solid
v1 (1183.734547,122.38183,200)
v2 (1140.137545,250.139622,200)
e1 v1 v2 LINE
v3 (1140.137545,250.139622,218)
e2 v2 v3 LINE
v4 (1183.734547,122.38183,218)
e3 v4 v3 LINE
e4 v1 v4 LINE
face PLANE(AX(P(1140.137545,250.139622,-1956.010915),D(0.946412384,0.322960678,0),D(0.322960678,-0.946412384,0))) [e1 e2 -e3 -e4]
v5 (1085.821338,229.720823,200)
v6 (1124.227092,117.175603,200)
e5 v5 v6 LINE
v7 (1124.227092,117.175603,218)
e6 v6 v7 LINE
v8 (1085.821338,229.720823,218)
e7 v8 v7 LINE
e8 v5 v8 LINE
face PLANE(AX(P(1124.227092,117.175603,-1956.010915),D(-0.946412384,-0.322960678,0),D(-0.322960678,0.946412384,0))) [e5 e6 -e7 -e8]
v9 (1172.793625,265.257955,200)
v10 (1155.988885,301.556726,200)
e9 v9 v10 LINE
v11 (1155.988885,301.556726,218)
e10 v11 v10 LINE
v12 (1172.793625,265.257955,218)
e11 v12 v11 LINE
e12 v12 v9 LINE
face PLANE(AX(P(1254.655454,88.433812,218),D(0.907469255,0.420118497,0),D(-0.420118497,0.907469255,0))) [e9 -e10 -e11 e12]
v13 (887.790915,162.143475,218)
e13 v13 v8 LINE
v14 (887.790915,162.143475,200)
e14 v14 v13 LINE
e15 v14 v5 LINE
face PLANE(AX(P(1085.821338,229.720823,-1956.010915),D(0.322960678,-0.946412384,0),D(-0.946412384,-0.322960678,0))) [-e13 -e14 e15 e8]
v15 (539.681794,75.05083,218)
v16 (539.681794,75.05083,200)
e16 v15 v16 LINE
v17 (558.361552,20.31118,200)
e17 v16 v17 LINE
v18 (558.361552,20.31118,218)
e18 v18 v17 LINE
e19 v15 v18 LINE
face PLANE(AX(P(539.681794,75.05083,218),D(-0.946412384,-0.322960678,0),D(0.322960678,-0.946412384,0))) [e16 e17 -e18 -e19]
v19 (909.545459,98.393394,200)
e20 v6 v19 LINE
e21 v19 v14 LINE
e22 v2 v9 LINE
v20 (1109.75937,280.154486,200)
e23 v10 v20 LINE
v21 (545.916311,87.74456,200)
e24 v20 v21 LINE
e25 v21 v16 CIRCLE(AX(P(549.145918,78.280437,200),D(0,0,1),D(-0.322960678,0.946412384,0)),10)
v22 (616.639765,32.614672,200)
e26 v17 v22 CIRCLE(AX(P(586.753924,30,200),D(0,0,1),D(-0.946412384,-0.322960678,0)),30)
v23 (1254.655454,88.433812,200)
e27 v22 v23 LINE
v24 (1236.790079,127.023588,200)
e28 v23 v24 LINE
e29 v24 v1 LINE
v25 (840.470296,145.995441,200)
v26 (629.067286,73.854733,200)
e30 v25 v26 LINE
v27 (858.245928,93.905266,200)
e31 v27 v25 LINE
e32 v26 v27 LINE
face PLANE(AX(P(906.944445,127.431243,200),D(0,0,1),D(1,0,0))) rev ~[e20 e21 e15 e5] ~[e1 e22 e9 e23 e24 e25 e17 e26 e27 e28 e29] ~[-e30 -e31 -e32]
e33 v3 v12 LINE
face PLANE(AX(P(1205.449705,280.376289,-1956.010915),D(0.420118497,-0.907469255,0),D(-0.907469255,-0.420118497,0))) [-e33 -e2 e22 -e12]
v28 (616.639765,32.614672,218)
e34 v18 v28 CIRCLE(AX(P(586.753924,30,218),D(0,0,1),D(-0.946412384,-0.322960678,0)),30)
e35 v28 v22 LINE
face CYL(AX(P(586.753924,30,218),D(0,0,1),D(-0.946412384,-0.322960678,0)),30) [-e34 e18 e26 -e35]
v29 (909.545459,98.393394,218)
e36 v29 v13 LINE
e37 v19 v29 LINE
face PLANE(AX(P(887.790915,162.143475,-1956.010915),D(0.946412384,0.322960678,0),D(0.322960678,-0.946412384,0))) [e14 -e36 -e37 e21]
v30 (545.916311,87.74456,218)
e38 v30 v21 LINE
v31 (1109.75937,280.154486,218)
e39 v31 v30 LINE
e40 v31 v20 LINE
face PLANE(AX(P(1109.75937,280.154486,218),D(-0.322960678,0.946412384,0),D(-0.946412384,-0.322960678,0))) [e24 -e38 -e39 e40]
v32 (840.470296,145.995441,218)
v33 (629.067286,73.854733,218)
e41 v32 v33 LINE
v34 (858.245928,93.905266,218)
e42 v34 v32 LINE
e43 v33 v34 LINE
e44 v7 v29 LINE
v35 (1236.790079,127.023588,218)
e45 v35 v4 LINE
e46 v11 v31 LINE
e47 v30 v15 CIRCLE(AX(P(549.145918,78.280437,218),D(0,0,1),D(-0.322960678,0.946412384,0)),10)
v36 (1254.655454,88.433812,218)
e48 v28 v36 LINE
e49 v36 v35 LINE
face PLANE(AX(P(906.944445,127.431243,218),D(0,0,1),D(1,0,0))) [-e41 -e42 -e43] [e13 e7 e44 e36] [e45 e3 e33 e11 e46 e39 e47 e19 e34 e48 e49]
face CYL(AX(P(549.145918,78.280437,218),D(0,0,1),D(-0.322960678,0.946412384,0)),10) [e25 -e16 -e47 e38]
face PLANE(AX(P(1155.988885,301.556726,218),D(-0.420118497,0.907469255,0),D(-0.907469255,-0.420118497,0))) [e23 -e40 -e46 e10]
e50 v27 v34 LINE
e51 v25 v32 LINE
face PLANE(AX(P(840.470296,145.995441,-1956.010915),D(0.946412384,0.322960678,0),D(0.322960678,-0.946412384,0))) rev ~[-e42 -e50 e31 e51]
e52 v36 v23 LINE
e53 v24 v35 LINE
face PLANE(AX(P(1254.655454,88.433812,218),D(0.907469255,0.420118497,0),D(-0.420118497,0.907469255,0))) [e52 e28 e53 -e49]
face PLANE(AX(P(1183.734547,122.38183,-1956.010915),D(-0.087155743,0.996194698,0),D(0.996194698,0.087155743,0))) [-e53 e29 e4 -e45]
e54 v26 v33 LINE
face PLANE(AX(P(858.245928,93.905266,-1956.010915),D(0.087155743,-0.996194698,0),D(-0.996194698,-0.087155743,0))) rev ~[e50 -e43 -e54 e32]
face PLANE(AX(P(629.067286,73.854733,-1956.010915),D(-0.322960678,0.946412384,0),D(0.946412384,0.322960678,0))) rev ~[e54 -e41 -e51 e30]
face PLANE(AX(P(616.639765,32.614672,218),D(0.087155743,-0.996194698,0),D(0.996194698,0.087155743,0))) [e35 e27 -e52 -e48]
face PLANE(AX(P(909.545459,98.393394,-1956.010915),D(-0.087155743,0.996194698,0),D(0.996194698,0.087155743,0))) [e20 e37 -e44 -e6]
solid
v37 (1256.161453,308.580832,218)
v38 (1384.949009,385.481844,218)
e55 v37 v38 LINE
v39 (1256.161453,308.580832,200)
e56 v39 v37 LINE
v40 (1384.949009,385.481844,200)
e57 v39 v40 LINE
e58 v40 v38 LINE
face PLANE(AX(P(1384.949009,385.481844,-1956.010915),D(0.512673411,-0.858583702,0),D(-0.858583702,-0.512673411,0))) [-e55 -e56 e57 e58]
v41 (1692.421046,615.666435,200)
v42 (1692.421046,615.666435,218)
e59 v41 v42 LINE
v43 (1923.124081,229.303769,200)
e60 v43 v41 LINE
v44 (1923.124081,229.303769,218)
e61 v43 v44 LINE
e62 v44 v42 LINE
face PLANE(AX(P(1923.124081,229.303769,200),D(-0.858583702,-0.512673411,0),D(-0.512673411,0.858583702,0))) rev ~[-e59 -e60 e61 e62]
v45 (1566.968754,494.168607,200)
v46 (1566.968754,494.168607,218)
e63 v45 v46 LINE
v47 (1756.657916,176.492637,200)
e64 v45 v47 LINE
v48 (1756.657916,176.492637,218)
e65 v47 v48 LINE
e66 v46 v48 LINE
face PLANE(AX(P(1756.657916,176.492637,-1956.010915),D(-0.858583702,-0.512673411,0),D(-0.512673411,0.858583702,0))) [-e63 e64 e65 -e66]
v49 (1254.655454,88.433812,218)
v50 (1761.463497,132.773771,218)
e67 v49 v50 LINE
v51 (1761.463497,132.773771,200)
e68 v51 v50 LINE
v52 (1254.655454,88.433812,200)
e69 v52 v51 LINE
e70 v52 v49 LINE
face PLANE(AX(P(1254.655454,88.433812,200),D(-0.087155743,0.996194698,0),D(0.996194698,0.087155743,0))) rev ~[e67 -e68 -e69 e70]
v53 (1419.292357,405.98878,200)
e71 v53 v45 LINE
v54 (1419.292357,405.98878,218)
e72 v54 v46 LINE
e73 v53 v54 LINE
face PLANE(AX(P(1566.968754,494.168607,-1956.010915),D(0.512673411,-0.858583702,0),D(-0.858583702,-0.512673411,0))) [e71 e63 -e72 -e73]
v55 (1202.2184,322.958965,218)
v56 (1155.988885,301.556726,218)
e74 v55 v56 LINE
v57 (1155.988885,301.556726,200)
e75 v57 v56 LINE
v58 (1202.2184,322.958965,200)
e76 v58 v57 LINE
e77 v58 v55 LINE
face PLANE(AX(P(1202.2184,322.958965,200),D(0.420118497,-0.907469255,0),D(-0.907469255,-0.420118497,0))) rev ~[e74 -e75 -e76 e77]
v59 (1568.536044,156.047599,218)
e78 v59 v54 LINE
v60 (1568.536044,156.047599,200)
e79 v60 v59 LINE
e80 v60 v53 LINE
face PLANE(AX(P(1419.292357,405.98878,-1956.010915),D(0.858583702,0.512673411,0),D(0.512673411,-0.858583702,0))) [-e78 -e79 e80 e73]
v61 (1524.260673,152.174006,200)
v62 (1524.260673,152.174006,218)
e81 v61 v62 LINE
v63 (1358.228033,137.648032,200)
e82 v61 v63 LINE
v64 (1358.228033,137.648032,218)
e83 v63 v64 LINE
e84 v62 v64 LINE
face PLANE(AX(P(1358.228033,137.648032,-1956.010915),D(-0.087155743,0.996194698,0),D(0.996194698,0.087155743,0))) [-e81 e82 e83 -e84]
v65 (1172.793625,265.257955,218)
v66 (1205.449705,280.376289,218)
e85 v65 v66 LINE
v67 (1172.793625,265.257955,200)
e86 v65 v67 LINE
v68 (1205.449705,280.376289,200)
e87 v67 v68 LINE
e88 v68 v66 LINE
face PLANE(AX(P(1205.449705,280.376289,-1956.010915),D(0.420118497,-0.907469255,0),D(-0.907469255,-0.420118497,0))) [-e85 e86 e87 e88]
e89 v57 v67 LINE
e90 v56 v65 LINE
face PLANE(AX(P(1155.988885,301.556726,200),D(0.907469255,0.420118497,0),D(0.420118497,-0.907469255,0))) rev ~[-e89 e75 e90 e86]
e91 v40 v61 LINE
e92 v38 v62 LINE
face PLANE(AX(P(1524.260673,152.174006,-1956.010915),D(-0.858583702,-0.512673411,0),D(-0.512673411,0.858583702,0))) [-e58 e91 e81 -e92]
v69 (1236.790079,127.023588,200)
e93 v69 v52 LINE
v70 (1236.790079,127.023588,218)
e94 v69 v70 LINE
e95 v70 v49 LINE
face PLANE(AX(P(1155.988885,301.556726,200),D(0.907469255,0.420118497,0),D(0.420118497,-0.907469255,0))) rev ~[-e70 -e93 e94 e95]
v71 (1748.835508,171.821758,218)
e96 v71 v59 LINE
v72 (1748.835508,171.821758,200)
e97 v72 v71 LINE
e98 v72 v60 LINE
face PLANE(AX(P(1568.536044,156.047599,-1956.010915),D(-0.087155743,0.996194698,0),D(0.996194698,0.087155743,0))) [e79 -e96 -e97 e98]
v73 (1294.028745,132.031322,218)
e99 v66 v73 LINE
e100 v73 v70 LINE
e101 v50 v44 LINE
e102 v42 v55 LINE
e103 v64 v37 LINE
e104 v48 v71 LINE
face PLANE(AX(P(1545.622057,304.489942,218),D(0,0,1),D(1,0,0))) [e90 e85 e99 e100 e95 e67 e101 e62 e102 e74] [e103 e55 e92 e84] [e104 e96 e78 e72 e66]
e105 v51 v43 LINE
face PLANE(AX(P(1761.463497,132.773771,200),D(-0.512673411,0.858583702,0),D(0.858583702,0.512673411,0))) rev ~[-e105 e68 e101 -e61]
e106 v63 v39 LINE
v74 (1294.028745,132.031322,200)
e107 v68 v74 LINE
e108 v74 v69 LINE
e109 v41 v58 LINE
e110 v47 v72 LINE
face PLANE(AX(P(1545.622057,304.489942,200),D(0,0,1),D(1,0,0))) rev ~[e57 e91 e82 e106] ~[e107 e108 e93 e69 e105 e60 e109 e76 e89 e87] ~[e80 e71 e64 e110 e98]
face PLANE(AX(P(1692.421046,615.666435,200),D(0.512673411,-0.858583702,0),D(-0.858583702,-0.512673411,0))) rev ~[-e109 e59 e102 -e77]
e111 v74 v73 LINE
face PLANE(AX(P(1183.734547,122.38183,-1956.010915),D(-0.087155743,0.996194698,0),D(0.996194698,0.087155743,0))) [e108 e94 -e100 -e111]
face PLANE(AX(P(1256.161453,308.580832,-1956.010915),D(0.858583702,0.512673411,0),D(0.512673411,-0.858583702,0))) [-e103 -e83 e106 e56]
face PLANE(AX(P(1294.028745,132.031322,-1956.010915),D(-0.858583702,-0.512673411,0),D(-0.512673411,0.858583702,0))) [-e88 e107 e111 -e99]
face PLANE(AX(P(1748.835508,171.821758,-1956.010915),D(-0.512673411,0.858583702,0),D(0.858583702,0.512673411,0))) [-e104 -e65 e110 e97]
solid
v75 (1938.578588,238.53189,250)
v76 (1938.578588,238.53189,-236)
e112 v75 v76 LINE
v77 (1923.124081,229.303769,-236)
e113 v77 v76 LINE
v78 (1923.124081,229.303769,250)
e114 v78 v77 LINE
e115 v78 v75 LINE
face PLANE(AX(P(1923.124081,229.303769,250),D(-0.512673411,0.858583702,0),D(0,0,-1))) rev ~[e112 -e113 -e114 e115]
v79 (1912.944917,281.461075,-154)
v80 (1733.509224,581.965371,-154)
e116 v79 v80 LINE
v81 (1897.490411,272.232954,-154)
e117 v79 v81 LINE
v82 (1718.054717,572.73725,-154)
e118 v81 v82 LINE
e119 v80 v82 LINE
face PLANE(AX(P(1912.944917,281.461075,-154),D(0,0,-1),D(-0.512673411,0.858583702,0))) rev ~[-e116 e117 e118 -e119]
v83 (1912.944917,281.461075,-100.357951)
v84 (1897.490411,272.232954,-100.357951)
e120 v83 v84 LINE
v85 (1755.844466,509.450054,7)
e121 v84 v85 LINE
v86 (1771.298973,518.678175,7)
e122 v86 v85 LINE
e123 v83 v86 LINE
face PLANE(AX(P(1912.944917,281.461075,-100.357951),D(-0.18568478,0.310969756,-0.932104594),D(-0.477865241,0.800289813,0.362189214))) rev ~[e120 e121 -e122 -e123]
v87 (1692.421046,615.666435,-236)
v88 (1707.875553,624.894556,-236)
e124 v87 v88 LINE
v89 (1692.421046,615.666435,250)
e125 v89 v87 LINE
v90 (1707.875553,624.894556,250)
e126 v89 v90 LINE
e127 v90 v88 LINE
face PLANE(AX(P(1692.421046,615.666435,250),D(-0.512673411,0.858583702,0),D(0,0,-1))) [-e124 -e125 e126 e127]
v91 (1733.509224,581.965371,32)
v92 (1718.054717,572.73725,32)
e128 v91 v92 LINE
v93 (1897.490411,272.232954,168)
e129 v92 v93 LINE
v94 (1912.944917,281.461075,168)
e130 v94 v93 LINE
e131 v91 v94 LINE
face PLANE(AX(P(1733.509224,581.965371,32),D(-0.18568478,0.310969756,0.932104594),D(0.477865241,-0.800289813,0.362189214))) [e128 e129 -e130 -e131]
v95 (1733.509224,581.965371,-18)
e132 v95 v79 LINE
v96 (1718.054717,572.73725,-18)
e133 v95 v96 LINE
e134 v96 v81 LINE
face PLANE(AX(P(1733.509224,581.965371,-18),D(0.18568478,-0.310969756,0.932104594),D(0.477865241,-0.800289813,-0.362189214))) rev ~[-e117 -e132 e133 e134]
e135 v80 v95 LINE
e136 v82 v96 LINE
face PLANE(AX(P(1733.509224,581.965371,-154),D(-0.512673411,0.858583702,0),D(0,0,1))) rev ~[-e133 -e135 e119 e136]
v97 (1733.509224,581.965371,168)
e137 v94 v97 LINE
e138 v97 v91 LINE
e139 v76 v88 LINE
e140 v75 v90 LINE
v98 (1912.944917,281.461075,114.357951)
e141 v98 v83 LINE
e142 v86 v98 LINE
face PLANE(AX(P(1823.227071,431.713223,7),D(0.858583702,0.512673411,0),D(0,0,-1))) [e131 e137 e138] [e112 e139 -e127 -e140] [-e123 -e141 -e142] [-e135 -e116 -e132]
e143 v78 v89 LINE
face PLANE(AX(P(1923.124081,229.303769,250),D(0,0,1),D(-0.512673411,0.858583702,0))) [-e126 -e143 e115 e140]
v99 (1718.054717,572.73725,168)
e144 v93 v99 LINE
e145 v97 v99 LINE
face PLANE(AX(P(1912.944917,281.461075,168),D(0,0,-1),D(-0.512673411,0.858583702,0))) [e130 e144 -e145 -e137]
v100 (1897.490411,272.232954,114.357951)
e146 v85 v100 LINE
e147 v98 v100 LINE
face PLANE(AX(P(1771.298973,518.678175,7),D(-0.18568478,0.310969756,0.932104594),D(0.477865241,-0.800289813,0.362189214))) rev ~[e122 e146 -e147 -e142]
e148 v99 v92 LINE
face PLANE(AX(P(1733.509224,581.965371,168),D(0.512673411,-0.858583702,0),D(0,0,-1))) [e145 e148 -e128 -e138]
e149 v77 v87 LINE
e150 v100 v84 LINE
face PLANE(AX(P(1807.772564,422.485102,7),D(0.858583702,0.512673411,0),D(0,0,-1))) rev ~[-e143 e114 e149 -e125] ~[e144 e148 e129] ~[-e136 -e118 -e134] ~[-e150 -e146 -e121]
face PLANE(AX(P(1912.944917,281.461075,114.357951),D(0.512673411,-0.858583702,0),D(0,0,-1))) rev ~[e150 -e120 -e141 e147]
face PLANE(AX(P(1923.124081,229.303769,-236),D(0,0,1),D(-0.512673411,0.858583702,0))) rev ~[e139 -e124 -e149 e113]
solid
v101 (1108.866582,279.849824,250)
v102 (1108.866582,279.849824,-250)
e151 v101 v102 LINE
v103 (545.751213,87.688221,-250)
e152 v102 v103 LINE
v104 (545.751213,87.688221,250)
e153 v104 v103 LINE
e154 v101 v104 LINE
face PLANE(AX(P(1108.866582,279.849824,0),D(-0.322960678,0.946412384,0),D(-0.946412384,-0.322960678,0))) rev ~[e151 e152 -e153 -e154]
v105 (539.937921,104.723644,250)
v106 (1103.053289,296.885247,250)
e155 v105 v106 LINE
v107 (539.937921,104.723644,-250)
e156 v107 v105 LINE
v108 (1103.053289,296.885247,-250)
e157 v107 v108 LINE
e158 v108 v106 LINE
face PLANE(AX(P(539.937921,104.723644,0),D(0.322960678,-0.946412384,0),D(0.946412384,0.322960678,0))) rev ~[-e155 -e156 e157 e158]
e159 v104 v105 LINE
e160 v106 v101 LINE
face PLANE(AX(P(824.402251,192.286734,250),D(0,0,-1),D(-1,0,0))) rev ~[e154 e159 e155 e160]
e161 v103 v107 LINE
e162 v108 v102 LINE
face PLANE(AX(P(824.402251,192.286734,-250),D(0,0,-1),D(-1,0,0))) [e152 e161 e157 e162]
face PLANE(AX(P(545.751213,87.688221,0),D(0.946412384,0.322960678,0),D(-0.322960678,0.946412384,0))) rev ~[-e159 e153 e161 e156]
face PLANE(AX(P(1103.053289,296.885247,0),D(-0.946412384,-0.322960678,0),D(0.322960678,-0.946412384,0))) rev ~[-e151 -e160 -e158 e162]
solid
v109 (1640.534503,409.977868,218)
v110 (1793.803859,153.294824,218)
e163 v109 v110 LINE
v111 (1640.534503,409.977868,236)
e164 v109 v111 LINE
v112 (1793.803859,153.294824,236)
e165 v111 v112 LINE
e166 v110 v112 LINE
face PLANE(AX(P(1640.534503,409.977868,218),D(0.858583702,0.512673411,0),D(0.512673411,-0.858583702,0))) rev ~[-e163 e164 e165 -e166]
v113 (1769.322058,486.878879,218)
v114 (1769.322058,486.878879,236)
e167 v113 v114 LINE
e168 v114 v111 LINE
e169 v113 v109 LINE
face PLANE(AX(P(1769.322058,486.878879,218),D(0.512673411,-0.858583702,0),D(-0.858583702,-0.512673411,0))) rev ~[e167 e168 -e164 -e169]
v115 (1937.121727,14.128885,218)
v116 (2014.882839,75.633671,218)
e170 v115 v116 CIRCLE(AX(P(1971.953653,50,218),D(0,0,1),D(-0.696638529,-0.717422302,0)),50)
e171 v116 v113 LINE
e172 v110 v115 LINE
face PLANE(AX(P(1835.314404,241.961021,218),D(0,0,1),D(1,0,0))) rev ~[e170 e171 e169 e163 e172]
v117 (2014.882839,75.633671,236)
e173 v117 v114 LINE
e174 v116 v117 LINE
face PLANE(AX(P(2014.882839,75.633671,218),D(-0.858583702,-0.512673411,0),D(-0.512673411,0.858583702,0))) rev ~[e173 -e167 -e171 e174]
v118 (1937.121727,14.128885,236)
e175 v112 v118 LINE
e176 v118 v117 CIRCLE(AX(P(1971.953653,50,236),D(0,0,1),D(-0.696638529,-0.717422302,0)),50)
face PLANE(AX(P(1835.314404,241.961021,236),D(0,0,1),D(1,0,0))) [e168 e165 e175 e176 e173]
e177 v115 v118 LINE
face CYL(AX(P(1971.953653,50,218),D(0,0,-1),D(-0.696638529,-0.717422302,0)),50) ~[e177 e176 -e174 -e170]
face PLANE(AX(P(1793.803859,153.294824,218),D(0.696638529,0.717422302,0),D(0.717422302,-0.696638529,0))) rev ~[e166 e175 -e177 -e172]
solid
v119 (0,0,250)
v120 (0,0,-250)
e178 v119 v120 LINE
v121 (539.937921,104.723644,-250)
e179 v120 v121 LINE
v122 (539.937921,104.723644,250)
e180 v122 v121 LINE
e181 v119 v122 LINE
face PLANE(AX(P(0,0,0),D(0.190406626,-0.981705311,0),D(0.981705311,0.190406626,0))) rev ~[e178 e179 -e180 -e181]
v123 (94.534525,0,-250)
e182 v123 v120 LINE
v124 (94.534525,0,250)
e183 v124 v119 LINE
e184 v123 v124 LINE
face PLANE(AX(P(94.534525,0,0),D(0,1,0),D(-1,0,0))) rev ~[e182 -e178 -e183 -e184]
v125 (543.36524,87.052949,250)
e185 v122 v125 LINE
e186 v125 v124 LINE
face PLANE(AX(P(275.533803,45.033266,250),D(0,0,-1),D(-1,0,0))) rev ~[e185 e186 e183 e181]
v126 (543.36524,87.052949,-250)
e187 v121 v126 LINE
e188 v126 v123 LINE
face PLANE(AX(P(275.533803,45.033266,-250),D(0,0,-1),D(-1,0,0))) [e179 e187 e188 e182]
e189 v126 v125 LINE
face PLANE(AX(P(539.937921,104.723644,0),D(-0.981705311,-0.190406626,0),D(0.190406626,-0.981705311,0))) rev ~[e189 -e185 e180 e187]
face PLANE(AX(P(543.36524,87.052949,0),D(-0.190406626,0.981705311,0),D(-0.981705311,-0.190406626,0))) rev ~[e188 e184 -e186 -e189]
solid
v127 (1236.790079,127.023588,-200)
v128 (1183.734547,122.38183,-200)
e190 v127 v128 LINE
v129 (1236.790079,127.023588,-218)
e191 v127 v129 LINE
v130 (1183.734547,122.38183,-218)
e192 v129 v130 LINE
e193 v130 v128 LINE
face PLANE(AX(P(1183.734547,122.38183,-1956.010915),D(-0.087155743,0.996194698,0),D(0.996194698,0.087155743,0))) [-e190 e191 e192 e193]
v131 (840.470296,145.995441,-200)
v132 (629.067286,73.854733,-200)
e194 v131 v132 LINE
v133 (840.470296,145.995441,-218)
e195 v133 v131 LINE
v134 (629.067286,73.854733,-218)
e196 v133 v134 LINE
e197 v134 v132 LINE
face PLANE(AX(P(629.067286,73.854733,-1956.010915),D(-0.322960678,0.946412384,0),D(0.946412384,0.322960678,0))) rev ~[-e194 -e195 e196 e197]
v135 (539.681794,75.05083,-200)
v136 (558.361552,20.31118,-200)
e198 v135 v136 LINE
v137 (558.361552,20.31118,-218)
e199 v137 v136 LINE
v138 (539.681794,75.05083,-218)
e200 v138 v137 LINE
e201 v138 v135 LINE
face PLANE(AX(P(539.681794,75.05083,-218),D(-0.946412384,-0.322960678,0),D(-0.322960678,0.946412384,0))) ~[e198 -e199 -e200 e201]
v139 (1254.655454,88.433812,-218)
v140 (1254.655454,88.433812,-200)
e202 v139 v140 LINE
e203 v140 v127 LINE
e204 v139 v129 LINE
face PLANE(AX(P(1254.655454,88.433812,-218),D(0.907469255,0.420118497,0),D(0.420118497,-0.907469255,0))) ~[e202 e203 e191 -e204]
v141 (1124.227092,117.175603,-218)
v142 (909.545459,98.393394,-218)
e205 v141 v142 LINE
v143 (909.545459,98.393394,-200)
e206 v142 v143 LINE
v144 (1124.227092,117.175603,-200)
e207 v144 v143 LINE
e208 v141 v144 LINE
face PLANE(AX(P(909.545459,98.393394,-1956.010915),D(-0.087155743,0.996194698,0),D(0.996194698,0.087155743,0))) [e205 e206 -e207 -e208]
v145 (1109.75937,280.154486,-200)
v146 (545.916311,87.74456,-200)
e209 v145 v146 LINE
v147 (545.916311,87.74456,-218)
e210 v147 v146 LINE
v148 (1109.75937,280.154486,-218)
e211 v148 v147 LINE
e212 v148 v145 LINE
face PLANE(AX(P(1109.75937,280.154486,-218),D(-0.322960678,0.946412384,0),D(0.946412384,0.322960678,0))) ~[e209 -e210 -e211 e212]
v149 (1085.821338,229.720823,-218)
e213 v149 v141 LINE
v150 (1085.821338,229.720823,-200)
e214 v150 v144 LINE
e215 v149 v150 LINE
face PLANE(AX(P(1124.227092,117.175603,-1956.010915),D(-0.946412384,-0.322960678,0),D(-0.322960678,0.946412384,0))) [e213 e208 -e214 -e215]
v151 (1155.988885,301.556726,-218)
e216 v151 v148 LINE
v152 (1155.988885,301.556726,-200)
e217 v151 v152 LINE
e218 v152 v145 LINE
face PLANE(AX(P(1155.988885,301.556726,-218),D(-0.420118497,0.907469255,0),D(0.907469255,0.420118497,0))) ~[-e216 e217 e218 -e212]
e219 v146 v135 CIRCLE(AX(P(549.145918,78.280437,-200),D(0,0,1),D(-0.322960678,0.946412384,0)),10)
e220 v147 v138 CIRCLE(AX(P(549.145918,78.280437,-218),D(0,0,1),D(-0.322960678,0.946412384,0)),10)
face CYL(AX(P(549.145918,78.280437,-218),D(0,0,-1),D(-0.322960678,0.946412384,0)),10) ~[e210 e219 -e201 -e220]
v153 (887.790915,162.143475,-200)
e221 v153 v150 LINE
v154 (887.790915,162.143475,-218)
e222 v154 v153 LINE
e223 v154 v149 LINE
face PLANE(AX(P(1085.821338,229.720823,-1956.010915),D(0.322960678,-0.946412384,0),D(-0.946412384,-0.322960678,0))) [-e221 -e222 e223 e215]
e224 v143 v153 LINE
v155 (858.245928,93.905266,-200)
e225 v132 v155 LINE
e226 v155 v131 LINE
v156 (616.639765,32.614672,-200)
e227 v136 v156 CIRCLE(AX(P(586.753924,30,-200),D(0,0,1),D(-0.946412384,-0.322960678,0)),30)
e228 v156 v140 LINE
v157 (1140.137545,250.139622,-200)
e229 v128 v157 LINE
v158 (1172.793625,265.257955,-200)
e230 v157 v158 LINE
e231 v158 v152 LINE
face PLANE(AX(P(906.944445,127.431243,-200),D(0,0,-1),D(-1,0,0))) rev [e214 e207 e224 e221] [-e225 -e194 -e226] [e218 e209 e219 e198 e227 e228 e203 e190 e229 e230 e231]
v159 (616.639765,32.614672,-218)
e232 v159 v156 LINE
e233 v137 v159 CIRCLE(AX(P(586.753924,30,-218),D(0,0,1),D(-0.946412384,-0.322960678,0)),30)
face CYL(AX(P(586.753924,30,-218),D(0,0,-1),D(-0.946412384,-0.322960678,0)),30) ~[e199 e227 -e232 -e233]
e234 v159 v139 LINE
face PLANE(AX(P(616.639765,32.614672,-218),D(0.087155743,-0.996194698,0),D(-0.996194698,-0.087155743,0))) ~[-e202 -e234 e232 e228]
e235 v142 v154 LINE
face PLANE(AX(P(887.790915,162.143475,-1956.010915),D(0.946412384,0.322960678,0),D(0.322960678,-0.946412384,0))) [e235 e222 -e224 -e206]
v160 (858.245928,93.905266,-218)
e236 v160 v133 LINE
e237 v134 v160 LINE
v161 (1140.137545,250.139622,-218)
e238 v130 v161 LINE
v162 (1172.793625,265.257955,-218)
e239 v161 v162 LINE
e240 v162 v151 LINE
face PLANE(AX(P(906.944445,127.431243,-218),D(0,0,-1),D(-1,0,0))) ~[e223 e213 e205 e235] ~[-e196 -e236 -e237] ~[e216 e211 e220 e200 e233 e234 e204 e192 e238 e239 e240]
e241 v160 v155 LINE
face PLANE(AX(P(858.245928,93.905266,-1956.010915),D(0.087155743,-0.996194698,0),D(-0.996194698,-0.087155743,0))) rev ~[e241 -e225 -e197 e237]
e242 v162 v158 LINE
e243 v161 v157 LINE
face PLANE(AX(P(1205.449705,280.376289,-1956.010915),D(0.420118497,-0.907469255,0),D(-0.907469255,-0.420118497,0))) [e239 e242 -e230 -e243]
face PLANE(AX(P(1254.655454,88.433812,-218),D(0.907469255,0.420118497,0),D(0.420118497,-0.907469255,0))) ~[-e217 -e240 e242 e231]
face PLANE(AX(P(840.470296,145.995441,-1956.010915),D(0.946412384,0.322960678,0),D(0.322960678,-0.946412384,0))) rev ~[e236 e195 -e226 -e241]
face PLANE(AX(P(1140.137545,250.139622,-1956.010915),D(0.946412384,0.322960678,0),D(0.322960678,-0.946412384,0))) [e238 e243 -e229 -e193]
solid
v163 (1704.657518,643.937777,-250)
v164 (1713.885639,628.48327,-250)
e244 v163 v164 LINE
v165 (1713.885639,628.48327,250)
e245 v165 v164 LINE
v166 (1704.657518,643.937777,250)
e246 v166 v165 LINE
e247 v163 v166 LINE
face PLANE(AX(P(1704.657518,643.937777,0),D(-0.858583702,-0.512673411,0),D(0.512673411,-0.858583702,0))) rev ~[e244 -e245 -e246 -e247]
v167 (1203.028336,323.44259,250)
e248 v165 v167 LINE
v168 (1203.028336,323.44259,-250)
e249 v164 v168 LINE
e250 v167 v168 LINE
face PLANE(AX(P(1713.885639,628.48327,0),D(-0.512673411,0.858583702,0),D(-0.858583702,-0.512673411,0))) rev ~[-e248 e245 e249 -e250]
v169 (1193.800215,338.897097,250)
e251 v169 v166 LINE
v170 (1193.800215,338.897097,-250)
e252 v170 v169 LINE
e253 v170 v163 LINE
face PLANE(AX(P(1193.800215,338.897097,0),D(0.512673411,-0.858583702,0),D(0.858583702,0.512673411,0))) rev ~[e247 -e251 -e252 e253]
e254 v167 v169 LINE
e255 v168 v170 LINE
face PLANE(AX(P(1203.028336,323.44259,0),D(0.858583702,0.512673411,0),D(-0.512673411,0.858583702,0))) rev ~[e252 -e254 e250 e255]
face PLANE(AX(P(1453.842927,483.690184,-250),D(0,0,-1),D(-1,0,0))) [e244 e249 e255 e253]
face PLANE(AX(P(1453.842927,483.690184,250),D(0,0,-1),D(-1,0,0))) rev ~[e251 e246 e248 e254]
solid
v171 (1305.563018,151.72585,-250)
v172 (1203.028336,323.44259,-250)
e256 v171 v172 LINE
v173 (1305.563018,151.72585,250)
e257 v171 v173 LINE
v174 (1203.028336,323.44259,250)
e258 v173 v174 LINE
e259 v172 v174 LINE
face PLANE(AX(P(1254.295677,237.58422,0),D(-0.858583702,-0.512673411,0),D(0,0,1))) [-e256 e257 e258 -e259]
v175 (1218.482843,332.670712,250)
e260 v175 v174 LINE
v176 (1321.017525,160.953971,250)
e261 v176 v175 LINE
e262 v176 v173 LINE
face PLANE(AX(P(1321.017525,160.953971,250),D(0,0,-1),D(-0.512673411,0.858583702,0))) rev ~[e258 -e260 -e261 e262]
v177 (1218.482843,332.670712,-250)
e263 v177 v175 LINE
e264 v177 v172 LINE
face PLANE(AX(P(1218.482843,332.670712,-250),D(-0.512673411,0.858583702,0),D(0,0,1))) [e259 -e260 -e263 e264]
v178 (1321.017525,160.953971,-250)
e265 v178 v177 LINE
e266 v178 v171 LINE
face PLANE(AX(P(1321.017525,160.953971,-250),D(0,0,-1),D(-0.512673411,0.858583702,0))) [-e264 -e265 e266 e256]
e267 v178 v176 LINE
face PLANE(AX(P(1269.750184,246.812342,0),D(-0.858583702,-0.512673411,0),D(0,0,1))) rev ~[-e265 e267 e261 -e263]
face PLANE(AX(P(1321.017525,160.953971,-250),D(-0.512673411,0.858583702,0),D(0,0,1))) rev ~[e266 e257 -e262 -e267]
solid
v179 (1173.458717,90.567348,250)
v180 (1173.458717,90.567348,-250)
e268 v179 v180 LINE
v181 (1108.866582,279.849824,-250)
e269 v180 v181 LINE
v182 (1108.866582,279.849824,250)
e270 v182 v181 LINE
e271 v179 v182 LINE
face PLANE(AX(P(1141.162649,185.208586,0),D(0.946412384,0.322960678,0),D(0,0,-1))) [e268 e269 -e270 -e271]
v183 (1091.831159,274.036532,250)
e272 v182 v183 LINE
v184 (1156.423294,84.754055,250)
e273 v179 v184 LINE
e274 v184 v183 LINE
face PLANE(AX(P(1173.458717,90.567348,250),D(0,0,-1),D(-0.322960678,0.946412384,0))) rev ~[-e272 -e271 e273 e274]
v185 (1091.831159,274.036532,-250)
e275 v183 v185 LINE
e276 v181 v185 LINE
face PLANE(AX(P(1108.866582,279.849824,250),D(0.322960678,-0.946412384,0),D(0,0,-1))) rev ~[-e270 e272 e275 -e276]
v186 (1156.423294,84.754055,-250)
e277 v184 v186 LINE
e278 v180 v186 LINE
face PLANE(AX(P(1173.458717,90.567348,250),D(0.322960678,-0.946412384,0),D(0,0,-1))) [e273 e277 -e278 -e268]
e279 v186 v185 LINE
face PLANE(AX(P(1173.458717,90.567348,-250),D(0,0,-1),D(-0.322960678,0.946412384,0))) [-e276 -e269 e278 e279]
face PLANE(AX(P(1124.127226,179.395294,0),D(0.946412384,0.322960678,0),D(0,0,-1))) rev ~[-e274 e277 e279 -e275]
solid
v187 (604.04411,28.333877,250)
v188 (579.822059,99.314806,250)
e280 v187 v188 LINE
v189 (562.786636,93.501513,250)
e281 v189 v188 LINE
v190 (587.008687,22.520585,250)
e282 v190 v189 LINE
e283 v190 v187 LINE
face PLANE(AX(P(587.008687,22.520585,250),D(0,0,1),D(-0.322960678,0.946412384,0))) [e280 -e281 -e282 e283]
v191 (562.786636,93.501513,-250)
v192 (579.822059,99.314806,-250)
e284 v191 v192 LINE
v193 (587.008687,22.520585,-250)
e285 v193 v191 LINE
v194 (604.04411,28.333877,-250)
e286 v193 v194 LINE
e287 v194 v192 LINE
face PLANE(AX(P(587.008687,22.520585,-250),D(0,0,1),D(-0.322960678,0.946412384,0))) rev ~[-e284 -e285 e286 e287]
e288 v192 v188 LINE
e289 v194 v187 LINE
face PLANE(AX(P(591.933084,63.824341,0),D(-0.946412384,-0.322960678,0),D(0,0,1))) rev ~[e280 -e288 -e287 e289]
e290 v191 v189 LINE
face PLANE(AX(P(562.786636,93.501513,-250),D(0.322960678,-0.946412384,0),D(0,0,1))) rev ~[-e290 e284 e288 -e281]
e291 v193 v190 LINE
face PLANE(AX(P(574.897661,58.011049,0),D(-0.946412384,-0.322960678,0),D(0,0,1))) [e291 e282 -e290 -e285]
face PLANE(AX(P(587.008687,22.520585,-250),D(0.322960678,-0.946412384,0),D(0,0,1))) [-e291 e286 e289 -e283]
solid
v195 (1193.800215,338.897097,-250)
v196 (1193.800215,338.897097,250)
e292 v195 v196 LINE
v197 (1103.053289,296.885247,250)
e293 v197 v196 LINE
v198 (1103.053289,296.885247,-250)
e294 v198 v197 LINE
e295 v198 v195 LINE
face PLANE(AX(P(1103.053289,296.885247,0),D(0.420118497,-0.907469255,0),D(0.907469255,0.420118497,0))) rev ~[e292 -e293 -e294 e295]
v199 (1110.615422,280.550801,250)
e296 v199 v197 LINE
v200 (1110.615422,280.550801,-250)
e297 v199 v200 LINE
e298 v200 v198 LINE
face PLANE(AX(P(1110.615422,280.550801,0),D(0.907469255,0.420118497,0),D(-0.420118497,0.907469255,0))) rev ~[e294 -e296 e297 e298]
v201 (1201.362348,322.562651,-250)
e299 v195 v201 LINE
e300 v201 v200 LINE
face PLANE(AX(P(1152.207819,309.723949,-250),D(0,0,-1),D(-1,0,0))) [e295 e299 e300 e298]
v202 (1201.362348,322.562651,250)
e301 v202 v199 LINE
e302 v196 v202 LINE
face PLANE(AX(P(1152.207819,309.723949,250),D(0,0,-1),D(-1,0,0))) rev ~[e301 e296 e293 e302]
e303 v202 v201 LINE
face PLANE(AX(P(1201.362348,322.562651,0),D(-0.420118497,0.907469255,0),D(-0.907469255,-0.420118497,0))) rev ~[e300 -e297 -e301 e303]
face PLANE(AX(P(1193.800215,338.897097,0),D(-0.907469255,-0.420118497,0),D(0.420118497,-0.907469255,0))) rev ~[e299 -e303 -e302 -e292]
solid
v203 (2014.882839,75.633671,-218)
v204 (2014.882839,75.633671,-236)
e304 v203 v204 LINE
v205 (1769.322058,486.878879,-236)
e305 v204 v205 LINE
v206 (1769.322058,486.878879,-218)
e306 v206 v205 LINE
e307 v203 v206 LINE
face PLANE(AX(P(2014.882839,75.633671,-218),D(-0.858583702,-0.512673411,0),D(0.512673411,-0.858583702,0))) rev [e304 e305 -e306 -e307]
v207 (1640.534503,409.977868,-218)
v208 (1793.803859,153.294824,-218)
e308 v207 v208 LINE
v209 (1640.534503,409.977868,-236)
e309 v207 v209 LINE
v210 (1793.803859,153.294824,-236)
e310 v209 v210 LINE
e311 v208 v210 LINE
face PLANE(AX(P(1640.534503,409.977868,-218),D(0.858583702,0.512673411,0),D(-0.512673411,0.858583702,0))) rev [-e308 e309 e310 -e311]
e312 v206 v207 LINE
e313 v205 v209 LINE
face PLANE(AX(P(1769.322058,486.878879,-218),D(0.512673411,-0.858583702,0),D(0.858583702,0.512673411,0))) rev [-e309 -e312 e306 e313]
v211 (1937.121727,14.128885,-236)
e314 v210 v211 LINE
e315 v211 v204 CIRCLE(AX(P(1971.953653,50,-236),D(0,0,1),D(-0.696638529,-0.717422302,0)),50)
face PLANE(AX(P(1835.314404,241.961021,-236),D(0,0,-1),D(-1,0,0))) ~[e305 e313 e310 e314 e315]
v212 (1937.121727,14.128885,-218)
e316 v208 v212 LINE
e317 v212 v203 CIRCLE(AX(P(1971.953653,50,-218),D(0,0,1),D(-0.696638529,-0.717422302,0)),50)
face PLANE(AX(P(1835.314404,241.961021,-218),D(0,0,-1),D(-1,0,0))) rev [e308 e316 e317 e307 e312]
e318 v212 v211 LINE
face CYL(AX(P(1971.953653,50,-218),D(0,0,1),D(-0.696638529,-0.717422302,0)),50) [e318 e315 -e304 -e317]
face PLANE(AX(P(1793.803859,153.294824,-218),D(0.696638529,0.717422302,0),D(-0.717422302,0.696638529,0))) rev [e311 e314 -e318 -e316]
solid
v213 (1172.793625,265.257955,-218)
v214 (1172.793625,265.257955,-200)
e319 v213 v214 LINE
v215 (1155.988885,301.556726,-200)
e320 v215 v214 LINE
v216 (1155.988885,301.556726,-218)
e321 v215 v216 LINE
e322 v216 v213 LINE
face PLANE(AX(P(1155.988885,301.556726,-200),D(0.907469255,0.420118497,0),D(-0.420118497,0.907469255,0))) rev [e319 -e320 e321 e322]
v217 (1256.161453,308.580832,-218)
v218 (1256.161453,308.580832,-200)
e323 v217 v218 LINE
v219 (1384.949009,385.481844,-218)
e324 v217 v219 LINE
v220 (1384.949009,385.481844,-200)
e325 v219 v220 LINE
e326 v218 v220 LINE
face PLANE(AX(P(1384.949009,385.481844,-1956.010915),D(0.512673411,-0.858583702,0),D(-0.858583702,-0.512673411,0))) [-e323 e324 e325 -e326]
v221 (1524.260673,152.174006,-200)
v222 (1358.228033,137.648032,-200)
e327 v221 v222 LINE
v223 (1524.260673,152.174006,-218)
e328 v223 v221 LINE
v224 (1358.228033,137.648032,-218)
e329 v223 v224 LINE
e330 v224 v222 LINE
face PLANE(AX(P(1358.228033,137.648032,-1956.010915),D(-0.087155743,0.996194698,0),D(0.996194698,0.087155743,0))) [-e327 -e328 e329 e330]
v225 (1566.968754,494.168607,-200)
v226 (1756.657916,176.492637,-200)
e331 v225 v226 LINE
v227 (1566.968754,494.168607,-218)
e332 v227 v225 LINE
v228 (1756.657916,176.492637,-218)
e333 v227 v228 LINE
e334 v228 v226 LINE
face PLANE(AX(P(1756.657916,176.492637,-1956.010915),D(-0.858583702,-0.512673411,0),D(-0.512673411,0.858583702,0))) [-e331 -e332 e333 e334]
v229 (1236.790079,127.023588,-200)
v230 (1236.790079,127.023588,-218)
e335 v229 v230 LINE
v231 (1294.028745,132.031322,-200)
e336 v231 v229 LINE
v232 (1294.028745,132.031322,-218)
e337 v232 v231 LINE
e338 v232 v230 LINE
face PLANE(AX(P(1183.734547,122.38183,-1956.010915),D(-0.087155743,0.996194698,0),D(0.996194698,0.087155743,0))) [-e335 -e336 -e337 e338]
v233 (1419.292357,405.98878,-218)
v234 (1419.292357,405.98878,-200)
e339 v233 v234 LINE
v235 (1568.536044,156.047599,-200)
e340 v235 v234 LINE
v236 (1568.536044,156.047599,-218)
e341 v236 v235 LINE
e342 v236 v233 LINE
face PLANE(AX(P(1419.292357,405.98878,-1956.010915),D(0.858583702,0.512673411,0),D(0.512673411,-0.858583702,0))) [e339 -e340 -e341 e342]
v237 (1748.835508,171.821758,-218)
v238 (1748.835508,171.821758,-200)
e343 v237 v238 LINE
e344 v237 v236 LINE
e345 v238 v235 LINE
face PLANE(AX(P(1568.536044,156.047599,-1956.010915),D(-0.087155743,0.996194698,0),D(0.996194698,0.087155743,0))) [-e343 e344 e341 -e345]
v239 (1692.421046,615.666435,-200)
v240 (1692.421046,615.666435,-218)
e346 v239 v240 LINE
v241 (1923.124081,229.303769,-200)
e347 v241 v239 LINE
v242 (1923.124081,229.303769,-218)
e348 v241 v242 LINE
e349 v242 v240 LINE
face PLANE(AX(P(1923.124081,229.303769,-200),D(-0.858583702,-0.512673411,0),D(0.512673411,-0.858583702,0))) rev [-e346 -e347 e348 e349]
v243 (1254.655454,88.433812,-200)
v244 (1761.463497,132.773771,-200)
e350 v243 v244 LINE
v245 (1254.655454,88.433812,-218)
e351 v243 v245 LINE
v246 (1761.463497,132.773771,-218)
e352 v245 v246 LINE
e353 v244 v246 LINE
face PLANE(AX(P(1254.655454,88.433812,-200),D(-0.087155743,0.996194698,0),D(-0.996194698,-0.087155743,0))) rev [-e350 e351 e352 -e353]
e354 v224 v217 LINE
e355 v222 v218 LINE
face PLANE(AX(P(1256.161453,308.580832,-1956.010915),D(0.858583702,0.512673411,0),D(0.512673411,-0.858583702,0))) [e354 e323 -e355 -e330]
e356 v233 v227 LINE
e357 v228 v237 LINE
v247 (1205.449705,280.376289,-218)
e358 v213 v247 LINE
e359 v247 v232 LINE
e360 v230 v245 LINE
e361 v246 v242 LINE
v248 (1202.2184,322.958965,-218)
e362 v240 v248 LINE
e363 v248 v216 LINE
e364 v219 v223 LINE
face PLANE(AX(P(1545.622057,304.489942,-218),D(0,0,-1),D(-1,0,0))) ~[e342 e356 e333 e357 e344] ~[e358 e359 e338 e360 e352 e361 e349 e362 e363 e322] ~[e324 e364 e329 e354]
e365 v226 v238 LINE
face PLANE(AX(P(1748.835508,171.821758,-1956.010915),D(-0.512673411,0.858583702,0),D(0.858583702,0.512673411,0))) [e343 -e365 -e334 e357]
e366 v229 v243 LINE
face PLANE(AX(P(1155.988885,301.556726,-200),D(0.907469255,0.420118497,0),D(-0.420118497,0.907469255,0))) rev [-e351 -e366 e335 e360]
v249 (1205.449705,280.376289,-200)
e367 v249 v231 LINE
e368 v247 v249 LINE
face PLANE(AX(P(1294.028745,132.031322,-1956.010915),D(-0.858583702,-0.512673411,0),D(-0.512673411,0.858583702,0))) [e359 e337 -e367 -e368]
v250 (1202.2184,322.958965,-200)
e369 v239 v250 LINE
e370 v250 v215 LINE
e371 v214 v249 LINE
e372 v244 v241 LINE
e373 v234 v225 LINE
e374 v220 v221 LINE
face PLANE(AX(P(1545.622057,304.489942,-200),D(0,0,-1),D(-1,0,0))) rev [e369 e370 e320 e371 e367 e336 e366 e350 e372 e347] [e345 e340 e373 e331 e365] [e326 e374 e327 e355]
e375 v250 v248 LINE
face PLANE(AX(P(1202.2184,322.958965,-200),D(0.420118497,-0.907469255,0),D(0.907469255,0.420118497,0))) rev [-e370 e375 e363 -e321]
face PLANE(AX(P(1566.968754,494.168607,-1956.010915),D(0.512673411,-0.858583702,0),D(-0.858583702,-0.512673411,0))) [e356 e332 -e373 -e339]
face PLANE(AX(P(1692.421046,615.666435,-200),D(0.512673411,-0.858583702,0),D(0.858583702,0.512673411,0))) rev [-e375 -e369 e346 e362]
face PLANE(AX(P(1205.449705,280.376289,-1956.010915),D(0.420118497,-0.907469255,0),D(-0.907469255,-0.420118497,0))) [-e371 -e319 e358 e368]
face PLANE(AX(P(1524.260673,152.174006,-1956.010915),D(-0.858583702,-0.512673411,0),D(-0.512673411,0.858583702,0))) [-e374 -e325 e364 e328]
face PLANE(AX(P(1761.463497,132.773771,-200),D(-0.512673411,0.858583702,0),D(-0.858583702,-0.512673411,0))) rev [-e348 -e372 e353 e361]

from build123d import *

# Parameters (mm, degrees)
BOSS_EXTRUDE1_DEPTH     = 250
BOSS_EXTRUDE1_2_DEPTH   = 250
BOSS_EXTRUDE1_3_DEPTH   = 250
BOSS_EXTRUDE1_4_DEPTH   = 250
BOSS_EXTRUDE2_START     = 200
BOSS_EXTRUDE2_DEPTH     = 18
BOSS_EXTRUDE8_START     = 218
BOSS_EXTRUDE8_DEPTH     = 18
BOSS_EXTRUDE3_DEPTH     = 18
SKETCH10_W              = 486
SKETCH10_H              = 450
BOSS_EXTRUDE4_DEPTH     = 18
SKETCH18_W              = 500
SKETCH18_H              = 200
BOSS_EXTRUDE9_DEPTH     = 18
SKETCH19_W              = 500
SKETCH19_H              = 200
BOSS_EXTRUDE10_DEPTH    = 18
SKETCH20_W              = 500
SKETCH20_H              = 75
BOSS_EXTRUDE11_DEPTH    = 18
CUT_EXTRUDE2_DEPTH      = 18
CUT_EXTRUDE3_DEPTH      = 2174.010915016
CUT_EXTRUDE3_DEPTH_BACK = 2174.010915016


with BuildPart() as part:
    # Sketch6 → Boss-Extrude1 (new, symmetric)
    with BuildSketch(Plane.XY):
        Polygon((94.53452545, 0), (0, 0), (539.937920842, 104.723644117), (543.365240104, 87.052948526), align=None)
    extrude(amount=BOSS_EXTRUDE1_DEPTH, both=True)


with BuildPart() as body_2:
    # Sketch6 → Boss-Extrude1 2 (new, symmetric)
    with BuildSketch(Plane.XY):
        Polygon((1103.053289344, 296.885247349), (1108.866581543, 279.849824436), (545.75121304, 87.688221205), (539.937920842, 104.723644117), align=None)
    extrude(amount=BOSS_EXTRUDE1_2_DEPTH, both=True)


with BuildPart() as body_3:
    # Sketch6 → Boss-Extrude1 3 (new, symmetric)
    with BuildSketch(Plane.XY):
        Polygon((1193.800214808, 338.897097092), (1201.362347762, 322.562650509), (1110.615422298, 280.550800765), (1103.053289344, 296.885247349), align=None)
    extrude(amount=BOSS_EXTRUDE1_3_DEPTH, both=True)


with BuildPart() as body_4:
    # Sketch6 → Boss-Extrude1 4 (new, symmetric)
    with BuildSketch(Plane.XY):
        Polygon((1704.657517606, 643.937776637), (1713.885639004, 628.483269998), (1203.028336206, 323.442590453), (1193.800214808, 338.897097092), align=None)
    extrude(amount=BOSS_EXTRUDE1_4_DEPTH, both=True)


with BuildPart() as body_5:
    # Sketch8 → Boss-Extrude2 (new body)
    with BuildSketch(Plane.XY.offset(BOSS_EXTRUDE2_START)):
        Polygon((1692.42104645, 615.666434723), (1202.218399833, 322.958965104), (1155.98888503, 301.556725637), (1254.655454355, 88.433812293), (1761.463497139, 132.773770621), (1923.1240814, 229.303768741), align=None)
    extrude(amount=BOSS_EXTRUDE2_DEPTH)


with BuildPart() as body_6:
    # Sketch17 → Boss-Extrude8 (new body)
    with BuildSketch(Plane.XY.offset(BOSS_EXTRUDE8_START)):
        with BuildLine():
            Line((1254.655454355, 88.433812293), (1155.98888503, 301.556725637))
            Line((1155.98888503, 301.556725637), (1109.759370227, 280.15448617))
            Line((1109.759370227, 280.15448617), (545.916310922, 87.744560412))
            ThreePointArc((545.916310922, 87.744560412), (540.170094701, 82.688905865), (539.681793859, 75.050829795))
            Line((539.681793859, 75.050829795), (558.36155207, 20.311179669))
            ThreePointArc((558.36155207, 20.311179669), (592.950825668, 0.647003481), (616.639764534, 32.614672282))
            Line((616.639764534, 32.614672282), (1254.655454355, 88.433812293))
        make_face()
    extrude(amount=-BOSS_EXTRUDE8_DEPTH)


with BuildPart() as body_7:
    # Sketch9 → Boss-Extrude3 (new body)
    with BuildSketch(Plane.XY.offset(218)):
        with BuildLine():
            Line((1769.3220581, 486.878879395), (1640.534502772, 409.977867745))
            Line((1640.534502772, 409.977867745), (1793.80385908, 153.294824416))
            Line((1793.80385908, 153.294824416), (1937.121726961, 14.128884896))
            ThreePointArc((1937.121726961, 14.128884896), (2002.971407437, 10.78394543), (2014.882838534, 75.63367055))
            Line((2014.882838534, 75.63367055), (1769.3220581, 486.878879395))
        make_face()
    extrude(amount=BOSS_EXTRUDE3_DEPTH)


with BuildPart() as body_8:
    # Mirror1: mirrored copy
    add(body_7.part.mirror(Plane.XY))


with BuildPart() as body_9:
    # Mirror1 2: mirrored copy
    add(body_5.part.mirror(Plane.XY))


with BuildPart() as body_10:
    # Mirror1 3: mirrored copy
    add(body_6.part.mirror(Plane.XY))


with BuildPart() as body_11:
    # Sketch10 → Boss-Extrude4 (new body)
    with BuildSketch(Plane(origin=(1518.594971798, 906.776196822, 0), x_dir=(0, 0, -1), z_dir=(0.8585837021828359, 0.5126734109996494, 0))):
        with Locations((-7, -564.058103897)):
            Rectangle(SKETCH10_W, SKETCH10_H)
    extrude(amount=BOSS_EXTRUDE4_DEPTH)

    # Sketch21 → Cut-Extrude2 (cut)
    with BuildSketch(Plane(origin=(1534.049478437, 916.00431822, 0), x_dir=(0, 0, -1), z_dir=(0.858583702182836, 0.5126734109996494, 0))):
        Polygon((-168, -389.058103897), (-32, -389.058103897), (-168, -739.058103897), align=None)
        Polygon((154, -739.058103897), (154, -389.058103897), (18, -389.058103897), align=None)
        Polygon((-114.357951309, -739.058103897), (100.357951309, -739.058103897), (-7, -462.769258616), align=None)
    extrude(amount=-CUT_EXTRUDE2_DEPTH, mode=Mode.SUBTRACT)


with BuildPart() as body_12:
    # Sketch18 → Boss-Extrude9 (new body)
    with BuildSketch(Plane(origin=(1044.656768193, 623.78047395, 0), x_dir=(0, 0, 1), z_dir=(-0.8585837021828362, -0.5126734109996488, 0))):
        with Locations((0, -439.058103897)):
            Rectangle(SKETCH18_W, SKETCH18_H)
    extrude(amount=BOSS_EXTRUDE9_DEPTH)


with BuildPart() as body_13:
    # Sketch19 → Boss-Extrude10 (new body)
    with BuildSketch(Plane(origin=(1078.745019921, 368.11883337, 0), x_dir=(0, 0, -1), z_dir=(0.9464123840375391, 0.3229606776999047, 0))):
        with Locations((0, -193.266963137)):
            Rectangle(SKETCH19_W, SKETCH19_H)
    extrude(amount=-BOSS_EXTRUDE10_DEPTH)


with BuildPart() as body_14:
    # Sketch20 → Boss-Extrude11 (new body)
    with BuildSketch(Plane(origin=(532.665074331, 181.770522337, 0), x_dir=(0, 0, 1), z_dir=(-0.946412384037533, -0.32296067769992237, 0))):
        with Locations((0, -130.766963137)):
            Rectangle(SKETCH20_W, SKETCH20_H)
    extrude(amount=-BOSS_EXTRUDE11_DEPTH)


with BuildPart() as cut_extrude3_tool:
    # Sketch22 → Cut-Extrude3 (new, two sides: drawn at the far end of the back side and taken through both)
    with BuildSketch(Plane.XY.offset(218).offset(-CUT_EXTRUDE3_DEPTH_BACK)):
        Polygon((840.470295916, 145.995440835), (858.245927781, 93.905266106), (629.067286371, 73.854733061), align=None)
        Polygon((887.790915118, 162.14347472), (909.545458676, 98.393393504), (1124.227091567, 117.175602649), (1085.821338057, 229.720823322), align=None)
        Polygon((1140.137545177, 250.139621594), (1183.734547405, 122.38183043), (1294.02874481, 132.031322356), (1205.449704677, 280.376289309), align=None)
        Polygon((1358.228032594, 137.648032243), (1524.260673415, 152.17400609), (1384.949008656, 385.481843634), (1256.161453329, 308.580831984), align=None)
        Polygon((1566.968753519, 494.168606766), (1419.292356743, 405.988780074), (1568.536044301, 156.047599116), (1748.835508068, 171.821758236), (1756.657915589, 176.492636958), align=None)
    extrude(amount=CUT_EXTRUDE3_DEPTH + CUT_EXTRUDE3_DEPTH_BACK)


with BuildPart() as body_5_1:
    add(body_5.part)

    # Cut-Extrude3: cut by cut_extrude3_tool
    add(cut_extrude3_tool.part, mode=Mode.SUBTRACT)


with BuildPart() as body_6_1:
    add(body_6.part)

    # Cut-Extrude3: cut by cut_extrude3_tool
    add(cut_extrude3_tool.part, mode=Mode.SUBTRACT)


with BuildPart() as body_9_1:
    add(body_9.part)

    # Cut-Extrude3: cut by cut_extrude3_tool
    add(cut_extrude3_tool.part, mode=Mode.SUBTRACT)


with BuildPart() as body_10_1:
    add(body_10.part)

    # Cut-Extrude3: cut by cut_extrude3_tool
    add(cut_extrude3_tool.part, mode=Mode.SUBTRACT)


solid = Compound([part.part, body_2.part, body_3.part, body_4.part, body_7.part, body_8.part, body_11.part, body_12.part, body_13.part, body_14.part, body_5_1.part, body_6_1.part, body_9_1.part, body_10_1.part])
